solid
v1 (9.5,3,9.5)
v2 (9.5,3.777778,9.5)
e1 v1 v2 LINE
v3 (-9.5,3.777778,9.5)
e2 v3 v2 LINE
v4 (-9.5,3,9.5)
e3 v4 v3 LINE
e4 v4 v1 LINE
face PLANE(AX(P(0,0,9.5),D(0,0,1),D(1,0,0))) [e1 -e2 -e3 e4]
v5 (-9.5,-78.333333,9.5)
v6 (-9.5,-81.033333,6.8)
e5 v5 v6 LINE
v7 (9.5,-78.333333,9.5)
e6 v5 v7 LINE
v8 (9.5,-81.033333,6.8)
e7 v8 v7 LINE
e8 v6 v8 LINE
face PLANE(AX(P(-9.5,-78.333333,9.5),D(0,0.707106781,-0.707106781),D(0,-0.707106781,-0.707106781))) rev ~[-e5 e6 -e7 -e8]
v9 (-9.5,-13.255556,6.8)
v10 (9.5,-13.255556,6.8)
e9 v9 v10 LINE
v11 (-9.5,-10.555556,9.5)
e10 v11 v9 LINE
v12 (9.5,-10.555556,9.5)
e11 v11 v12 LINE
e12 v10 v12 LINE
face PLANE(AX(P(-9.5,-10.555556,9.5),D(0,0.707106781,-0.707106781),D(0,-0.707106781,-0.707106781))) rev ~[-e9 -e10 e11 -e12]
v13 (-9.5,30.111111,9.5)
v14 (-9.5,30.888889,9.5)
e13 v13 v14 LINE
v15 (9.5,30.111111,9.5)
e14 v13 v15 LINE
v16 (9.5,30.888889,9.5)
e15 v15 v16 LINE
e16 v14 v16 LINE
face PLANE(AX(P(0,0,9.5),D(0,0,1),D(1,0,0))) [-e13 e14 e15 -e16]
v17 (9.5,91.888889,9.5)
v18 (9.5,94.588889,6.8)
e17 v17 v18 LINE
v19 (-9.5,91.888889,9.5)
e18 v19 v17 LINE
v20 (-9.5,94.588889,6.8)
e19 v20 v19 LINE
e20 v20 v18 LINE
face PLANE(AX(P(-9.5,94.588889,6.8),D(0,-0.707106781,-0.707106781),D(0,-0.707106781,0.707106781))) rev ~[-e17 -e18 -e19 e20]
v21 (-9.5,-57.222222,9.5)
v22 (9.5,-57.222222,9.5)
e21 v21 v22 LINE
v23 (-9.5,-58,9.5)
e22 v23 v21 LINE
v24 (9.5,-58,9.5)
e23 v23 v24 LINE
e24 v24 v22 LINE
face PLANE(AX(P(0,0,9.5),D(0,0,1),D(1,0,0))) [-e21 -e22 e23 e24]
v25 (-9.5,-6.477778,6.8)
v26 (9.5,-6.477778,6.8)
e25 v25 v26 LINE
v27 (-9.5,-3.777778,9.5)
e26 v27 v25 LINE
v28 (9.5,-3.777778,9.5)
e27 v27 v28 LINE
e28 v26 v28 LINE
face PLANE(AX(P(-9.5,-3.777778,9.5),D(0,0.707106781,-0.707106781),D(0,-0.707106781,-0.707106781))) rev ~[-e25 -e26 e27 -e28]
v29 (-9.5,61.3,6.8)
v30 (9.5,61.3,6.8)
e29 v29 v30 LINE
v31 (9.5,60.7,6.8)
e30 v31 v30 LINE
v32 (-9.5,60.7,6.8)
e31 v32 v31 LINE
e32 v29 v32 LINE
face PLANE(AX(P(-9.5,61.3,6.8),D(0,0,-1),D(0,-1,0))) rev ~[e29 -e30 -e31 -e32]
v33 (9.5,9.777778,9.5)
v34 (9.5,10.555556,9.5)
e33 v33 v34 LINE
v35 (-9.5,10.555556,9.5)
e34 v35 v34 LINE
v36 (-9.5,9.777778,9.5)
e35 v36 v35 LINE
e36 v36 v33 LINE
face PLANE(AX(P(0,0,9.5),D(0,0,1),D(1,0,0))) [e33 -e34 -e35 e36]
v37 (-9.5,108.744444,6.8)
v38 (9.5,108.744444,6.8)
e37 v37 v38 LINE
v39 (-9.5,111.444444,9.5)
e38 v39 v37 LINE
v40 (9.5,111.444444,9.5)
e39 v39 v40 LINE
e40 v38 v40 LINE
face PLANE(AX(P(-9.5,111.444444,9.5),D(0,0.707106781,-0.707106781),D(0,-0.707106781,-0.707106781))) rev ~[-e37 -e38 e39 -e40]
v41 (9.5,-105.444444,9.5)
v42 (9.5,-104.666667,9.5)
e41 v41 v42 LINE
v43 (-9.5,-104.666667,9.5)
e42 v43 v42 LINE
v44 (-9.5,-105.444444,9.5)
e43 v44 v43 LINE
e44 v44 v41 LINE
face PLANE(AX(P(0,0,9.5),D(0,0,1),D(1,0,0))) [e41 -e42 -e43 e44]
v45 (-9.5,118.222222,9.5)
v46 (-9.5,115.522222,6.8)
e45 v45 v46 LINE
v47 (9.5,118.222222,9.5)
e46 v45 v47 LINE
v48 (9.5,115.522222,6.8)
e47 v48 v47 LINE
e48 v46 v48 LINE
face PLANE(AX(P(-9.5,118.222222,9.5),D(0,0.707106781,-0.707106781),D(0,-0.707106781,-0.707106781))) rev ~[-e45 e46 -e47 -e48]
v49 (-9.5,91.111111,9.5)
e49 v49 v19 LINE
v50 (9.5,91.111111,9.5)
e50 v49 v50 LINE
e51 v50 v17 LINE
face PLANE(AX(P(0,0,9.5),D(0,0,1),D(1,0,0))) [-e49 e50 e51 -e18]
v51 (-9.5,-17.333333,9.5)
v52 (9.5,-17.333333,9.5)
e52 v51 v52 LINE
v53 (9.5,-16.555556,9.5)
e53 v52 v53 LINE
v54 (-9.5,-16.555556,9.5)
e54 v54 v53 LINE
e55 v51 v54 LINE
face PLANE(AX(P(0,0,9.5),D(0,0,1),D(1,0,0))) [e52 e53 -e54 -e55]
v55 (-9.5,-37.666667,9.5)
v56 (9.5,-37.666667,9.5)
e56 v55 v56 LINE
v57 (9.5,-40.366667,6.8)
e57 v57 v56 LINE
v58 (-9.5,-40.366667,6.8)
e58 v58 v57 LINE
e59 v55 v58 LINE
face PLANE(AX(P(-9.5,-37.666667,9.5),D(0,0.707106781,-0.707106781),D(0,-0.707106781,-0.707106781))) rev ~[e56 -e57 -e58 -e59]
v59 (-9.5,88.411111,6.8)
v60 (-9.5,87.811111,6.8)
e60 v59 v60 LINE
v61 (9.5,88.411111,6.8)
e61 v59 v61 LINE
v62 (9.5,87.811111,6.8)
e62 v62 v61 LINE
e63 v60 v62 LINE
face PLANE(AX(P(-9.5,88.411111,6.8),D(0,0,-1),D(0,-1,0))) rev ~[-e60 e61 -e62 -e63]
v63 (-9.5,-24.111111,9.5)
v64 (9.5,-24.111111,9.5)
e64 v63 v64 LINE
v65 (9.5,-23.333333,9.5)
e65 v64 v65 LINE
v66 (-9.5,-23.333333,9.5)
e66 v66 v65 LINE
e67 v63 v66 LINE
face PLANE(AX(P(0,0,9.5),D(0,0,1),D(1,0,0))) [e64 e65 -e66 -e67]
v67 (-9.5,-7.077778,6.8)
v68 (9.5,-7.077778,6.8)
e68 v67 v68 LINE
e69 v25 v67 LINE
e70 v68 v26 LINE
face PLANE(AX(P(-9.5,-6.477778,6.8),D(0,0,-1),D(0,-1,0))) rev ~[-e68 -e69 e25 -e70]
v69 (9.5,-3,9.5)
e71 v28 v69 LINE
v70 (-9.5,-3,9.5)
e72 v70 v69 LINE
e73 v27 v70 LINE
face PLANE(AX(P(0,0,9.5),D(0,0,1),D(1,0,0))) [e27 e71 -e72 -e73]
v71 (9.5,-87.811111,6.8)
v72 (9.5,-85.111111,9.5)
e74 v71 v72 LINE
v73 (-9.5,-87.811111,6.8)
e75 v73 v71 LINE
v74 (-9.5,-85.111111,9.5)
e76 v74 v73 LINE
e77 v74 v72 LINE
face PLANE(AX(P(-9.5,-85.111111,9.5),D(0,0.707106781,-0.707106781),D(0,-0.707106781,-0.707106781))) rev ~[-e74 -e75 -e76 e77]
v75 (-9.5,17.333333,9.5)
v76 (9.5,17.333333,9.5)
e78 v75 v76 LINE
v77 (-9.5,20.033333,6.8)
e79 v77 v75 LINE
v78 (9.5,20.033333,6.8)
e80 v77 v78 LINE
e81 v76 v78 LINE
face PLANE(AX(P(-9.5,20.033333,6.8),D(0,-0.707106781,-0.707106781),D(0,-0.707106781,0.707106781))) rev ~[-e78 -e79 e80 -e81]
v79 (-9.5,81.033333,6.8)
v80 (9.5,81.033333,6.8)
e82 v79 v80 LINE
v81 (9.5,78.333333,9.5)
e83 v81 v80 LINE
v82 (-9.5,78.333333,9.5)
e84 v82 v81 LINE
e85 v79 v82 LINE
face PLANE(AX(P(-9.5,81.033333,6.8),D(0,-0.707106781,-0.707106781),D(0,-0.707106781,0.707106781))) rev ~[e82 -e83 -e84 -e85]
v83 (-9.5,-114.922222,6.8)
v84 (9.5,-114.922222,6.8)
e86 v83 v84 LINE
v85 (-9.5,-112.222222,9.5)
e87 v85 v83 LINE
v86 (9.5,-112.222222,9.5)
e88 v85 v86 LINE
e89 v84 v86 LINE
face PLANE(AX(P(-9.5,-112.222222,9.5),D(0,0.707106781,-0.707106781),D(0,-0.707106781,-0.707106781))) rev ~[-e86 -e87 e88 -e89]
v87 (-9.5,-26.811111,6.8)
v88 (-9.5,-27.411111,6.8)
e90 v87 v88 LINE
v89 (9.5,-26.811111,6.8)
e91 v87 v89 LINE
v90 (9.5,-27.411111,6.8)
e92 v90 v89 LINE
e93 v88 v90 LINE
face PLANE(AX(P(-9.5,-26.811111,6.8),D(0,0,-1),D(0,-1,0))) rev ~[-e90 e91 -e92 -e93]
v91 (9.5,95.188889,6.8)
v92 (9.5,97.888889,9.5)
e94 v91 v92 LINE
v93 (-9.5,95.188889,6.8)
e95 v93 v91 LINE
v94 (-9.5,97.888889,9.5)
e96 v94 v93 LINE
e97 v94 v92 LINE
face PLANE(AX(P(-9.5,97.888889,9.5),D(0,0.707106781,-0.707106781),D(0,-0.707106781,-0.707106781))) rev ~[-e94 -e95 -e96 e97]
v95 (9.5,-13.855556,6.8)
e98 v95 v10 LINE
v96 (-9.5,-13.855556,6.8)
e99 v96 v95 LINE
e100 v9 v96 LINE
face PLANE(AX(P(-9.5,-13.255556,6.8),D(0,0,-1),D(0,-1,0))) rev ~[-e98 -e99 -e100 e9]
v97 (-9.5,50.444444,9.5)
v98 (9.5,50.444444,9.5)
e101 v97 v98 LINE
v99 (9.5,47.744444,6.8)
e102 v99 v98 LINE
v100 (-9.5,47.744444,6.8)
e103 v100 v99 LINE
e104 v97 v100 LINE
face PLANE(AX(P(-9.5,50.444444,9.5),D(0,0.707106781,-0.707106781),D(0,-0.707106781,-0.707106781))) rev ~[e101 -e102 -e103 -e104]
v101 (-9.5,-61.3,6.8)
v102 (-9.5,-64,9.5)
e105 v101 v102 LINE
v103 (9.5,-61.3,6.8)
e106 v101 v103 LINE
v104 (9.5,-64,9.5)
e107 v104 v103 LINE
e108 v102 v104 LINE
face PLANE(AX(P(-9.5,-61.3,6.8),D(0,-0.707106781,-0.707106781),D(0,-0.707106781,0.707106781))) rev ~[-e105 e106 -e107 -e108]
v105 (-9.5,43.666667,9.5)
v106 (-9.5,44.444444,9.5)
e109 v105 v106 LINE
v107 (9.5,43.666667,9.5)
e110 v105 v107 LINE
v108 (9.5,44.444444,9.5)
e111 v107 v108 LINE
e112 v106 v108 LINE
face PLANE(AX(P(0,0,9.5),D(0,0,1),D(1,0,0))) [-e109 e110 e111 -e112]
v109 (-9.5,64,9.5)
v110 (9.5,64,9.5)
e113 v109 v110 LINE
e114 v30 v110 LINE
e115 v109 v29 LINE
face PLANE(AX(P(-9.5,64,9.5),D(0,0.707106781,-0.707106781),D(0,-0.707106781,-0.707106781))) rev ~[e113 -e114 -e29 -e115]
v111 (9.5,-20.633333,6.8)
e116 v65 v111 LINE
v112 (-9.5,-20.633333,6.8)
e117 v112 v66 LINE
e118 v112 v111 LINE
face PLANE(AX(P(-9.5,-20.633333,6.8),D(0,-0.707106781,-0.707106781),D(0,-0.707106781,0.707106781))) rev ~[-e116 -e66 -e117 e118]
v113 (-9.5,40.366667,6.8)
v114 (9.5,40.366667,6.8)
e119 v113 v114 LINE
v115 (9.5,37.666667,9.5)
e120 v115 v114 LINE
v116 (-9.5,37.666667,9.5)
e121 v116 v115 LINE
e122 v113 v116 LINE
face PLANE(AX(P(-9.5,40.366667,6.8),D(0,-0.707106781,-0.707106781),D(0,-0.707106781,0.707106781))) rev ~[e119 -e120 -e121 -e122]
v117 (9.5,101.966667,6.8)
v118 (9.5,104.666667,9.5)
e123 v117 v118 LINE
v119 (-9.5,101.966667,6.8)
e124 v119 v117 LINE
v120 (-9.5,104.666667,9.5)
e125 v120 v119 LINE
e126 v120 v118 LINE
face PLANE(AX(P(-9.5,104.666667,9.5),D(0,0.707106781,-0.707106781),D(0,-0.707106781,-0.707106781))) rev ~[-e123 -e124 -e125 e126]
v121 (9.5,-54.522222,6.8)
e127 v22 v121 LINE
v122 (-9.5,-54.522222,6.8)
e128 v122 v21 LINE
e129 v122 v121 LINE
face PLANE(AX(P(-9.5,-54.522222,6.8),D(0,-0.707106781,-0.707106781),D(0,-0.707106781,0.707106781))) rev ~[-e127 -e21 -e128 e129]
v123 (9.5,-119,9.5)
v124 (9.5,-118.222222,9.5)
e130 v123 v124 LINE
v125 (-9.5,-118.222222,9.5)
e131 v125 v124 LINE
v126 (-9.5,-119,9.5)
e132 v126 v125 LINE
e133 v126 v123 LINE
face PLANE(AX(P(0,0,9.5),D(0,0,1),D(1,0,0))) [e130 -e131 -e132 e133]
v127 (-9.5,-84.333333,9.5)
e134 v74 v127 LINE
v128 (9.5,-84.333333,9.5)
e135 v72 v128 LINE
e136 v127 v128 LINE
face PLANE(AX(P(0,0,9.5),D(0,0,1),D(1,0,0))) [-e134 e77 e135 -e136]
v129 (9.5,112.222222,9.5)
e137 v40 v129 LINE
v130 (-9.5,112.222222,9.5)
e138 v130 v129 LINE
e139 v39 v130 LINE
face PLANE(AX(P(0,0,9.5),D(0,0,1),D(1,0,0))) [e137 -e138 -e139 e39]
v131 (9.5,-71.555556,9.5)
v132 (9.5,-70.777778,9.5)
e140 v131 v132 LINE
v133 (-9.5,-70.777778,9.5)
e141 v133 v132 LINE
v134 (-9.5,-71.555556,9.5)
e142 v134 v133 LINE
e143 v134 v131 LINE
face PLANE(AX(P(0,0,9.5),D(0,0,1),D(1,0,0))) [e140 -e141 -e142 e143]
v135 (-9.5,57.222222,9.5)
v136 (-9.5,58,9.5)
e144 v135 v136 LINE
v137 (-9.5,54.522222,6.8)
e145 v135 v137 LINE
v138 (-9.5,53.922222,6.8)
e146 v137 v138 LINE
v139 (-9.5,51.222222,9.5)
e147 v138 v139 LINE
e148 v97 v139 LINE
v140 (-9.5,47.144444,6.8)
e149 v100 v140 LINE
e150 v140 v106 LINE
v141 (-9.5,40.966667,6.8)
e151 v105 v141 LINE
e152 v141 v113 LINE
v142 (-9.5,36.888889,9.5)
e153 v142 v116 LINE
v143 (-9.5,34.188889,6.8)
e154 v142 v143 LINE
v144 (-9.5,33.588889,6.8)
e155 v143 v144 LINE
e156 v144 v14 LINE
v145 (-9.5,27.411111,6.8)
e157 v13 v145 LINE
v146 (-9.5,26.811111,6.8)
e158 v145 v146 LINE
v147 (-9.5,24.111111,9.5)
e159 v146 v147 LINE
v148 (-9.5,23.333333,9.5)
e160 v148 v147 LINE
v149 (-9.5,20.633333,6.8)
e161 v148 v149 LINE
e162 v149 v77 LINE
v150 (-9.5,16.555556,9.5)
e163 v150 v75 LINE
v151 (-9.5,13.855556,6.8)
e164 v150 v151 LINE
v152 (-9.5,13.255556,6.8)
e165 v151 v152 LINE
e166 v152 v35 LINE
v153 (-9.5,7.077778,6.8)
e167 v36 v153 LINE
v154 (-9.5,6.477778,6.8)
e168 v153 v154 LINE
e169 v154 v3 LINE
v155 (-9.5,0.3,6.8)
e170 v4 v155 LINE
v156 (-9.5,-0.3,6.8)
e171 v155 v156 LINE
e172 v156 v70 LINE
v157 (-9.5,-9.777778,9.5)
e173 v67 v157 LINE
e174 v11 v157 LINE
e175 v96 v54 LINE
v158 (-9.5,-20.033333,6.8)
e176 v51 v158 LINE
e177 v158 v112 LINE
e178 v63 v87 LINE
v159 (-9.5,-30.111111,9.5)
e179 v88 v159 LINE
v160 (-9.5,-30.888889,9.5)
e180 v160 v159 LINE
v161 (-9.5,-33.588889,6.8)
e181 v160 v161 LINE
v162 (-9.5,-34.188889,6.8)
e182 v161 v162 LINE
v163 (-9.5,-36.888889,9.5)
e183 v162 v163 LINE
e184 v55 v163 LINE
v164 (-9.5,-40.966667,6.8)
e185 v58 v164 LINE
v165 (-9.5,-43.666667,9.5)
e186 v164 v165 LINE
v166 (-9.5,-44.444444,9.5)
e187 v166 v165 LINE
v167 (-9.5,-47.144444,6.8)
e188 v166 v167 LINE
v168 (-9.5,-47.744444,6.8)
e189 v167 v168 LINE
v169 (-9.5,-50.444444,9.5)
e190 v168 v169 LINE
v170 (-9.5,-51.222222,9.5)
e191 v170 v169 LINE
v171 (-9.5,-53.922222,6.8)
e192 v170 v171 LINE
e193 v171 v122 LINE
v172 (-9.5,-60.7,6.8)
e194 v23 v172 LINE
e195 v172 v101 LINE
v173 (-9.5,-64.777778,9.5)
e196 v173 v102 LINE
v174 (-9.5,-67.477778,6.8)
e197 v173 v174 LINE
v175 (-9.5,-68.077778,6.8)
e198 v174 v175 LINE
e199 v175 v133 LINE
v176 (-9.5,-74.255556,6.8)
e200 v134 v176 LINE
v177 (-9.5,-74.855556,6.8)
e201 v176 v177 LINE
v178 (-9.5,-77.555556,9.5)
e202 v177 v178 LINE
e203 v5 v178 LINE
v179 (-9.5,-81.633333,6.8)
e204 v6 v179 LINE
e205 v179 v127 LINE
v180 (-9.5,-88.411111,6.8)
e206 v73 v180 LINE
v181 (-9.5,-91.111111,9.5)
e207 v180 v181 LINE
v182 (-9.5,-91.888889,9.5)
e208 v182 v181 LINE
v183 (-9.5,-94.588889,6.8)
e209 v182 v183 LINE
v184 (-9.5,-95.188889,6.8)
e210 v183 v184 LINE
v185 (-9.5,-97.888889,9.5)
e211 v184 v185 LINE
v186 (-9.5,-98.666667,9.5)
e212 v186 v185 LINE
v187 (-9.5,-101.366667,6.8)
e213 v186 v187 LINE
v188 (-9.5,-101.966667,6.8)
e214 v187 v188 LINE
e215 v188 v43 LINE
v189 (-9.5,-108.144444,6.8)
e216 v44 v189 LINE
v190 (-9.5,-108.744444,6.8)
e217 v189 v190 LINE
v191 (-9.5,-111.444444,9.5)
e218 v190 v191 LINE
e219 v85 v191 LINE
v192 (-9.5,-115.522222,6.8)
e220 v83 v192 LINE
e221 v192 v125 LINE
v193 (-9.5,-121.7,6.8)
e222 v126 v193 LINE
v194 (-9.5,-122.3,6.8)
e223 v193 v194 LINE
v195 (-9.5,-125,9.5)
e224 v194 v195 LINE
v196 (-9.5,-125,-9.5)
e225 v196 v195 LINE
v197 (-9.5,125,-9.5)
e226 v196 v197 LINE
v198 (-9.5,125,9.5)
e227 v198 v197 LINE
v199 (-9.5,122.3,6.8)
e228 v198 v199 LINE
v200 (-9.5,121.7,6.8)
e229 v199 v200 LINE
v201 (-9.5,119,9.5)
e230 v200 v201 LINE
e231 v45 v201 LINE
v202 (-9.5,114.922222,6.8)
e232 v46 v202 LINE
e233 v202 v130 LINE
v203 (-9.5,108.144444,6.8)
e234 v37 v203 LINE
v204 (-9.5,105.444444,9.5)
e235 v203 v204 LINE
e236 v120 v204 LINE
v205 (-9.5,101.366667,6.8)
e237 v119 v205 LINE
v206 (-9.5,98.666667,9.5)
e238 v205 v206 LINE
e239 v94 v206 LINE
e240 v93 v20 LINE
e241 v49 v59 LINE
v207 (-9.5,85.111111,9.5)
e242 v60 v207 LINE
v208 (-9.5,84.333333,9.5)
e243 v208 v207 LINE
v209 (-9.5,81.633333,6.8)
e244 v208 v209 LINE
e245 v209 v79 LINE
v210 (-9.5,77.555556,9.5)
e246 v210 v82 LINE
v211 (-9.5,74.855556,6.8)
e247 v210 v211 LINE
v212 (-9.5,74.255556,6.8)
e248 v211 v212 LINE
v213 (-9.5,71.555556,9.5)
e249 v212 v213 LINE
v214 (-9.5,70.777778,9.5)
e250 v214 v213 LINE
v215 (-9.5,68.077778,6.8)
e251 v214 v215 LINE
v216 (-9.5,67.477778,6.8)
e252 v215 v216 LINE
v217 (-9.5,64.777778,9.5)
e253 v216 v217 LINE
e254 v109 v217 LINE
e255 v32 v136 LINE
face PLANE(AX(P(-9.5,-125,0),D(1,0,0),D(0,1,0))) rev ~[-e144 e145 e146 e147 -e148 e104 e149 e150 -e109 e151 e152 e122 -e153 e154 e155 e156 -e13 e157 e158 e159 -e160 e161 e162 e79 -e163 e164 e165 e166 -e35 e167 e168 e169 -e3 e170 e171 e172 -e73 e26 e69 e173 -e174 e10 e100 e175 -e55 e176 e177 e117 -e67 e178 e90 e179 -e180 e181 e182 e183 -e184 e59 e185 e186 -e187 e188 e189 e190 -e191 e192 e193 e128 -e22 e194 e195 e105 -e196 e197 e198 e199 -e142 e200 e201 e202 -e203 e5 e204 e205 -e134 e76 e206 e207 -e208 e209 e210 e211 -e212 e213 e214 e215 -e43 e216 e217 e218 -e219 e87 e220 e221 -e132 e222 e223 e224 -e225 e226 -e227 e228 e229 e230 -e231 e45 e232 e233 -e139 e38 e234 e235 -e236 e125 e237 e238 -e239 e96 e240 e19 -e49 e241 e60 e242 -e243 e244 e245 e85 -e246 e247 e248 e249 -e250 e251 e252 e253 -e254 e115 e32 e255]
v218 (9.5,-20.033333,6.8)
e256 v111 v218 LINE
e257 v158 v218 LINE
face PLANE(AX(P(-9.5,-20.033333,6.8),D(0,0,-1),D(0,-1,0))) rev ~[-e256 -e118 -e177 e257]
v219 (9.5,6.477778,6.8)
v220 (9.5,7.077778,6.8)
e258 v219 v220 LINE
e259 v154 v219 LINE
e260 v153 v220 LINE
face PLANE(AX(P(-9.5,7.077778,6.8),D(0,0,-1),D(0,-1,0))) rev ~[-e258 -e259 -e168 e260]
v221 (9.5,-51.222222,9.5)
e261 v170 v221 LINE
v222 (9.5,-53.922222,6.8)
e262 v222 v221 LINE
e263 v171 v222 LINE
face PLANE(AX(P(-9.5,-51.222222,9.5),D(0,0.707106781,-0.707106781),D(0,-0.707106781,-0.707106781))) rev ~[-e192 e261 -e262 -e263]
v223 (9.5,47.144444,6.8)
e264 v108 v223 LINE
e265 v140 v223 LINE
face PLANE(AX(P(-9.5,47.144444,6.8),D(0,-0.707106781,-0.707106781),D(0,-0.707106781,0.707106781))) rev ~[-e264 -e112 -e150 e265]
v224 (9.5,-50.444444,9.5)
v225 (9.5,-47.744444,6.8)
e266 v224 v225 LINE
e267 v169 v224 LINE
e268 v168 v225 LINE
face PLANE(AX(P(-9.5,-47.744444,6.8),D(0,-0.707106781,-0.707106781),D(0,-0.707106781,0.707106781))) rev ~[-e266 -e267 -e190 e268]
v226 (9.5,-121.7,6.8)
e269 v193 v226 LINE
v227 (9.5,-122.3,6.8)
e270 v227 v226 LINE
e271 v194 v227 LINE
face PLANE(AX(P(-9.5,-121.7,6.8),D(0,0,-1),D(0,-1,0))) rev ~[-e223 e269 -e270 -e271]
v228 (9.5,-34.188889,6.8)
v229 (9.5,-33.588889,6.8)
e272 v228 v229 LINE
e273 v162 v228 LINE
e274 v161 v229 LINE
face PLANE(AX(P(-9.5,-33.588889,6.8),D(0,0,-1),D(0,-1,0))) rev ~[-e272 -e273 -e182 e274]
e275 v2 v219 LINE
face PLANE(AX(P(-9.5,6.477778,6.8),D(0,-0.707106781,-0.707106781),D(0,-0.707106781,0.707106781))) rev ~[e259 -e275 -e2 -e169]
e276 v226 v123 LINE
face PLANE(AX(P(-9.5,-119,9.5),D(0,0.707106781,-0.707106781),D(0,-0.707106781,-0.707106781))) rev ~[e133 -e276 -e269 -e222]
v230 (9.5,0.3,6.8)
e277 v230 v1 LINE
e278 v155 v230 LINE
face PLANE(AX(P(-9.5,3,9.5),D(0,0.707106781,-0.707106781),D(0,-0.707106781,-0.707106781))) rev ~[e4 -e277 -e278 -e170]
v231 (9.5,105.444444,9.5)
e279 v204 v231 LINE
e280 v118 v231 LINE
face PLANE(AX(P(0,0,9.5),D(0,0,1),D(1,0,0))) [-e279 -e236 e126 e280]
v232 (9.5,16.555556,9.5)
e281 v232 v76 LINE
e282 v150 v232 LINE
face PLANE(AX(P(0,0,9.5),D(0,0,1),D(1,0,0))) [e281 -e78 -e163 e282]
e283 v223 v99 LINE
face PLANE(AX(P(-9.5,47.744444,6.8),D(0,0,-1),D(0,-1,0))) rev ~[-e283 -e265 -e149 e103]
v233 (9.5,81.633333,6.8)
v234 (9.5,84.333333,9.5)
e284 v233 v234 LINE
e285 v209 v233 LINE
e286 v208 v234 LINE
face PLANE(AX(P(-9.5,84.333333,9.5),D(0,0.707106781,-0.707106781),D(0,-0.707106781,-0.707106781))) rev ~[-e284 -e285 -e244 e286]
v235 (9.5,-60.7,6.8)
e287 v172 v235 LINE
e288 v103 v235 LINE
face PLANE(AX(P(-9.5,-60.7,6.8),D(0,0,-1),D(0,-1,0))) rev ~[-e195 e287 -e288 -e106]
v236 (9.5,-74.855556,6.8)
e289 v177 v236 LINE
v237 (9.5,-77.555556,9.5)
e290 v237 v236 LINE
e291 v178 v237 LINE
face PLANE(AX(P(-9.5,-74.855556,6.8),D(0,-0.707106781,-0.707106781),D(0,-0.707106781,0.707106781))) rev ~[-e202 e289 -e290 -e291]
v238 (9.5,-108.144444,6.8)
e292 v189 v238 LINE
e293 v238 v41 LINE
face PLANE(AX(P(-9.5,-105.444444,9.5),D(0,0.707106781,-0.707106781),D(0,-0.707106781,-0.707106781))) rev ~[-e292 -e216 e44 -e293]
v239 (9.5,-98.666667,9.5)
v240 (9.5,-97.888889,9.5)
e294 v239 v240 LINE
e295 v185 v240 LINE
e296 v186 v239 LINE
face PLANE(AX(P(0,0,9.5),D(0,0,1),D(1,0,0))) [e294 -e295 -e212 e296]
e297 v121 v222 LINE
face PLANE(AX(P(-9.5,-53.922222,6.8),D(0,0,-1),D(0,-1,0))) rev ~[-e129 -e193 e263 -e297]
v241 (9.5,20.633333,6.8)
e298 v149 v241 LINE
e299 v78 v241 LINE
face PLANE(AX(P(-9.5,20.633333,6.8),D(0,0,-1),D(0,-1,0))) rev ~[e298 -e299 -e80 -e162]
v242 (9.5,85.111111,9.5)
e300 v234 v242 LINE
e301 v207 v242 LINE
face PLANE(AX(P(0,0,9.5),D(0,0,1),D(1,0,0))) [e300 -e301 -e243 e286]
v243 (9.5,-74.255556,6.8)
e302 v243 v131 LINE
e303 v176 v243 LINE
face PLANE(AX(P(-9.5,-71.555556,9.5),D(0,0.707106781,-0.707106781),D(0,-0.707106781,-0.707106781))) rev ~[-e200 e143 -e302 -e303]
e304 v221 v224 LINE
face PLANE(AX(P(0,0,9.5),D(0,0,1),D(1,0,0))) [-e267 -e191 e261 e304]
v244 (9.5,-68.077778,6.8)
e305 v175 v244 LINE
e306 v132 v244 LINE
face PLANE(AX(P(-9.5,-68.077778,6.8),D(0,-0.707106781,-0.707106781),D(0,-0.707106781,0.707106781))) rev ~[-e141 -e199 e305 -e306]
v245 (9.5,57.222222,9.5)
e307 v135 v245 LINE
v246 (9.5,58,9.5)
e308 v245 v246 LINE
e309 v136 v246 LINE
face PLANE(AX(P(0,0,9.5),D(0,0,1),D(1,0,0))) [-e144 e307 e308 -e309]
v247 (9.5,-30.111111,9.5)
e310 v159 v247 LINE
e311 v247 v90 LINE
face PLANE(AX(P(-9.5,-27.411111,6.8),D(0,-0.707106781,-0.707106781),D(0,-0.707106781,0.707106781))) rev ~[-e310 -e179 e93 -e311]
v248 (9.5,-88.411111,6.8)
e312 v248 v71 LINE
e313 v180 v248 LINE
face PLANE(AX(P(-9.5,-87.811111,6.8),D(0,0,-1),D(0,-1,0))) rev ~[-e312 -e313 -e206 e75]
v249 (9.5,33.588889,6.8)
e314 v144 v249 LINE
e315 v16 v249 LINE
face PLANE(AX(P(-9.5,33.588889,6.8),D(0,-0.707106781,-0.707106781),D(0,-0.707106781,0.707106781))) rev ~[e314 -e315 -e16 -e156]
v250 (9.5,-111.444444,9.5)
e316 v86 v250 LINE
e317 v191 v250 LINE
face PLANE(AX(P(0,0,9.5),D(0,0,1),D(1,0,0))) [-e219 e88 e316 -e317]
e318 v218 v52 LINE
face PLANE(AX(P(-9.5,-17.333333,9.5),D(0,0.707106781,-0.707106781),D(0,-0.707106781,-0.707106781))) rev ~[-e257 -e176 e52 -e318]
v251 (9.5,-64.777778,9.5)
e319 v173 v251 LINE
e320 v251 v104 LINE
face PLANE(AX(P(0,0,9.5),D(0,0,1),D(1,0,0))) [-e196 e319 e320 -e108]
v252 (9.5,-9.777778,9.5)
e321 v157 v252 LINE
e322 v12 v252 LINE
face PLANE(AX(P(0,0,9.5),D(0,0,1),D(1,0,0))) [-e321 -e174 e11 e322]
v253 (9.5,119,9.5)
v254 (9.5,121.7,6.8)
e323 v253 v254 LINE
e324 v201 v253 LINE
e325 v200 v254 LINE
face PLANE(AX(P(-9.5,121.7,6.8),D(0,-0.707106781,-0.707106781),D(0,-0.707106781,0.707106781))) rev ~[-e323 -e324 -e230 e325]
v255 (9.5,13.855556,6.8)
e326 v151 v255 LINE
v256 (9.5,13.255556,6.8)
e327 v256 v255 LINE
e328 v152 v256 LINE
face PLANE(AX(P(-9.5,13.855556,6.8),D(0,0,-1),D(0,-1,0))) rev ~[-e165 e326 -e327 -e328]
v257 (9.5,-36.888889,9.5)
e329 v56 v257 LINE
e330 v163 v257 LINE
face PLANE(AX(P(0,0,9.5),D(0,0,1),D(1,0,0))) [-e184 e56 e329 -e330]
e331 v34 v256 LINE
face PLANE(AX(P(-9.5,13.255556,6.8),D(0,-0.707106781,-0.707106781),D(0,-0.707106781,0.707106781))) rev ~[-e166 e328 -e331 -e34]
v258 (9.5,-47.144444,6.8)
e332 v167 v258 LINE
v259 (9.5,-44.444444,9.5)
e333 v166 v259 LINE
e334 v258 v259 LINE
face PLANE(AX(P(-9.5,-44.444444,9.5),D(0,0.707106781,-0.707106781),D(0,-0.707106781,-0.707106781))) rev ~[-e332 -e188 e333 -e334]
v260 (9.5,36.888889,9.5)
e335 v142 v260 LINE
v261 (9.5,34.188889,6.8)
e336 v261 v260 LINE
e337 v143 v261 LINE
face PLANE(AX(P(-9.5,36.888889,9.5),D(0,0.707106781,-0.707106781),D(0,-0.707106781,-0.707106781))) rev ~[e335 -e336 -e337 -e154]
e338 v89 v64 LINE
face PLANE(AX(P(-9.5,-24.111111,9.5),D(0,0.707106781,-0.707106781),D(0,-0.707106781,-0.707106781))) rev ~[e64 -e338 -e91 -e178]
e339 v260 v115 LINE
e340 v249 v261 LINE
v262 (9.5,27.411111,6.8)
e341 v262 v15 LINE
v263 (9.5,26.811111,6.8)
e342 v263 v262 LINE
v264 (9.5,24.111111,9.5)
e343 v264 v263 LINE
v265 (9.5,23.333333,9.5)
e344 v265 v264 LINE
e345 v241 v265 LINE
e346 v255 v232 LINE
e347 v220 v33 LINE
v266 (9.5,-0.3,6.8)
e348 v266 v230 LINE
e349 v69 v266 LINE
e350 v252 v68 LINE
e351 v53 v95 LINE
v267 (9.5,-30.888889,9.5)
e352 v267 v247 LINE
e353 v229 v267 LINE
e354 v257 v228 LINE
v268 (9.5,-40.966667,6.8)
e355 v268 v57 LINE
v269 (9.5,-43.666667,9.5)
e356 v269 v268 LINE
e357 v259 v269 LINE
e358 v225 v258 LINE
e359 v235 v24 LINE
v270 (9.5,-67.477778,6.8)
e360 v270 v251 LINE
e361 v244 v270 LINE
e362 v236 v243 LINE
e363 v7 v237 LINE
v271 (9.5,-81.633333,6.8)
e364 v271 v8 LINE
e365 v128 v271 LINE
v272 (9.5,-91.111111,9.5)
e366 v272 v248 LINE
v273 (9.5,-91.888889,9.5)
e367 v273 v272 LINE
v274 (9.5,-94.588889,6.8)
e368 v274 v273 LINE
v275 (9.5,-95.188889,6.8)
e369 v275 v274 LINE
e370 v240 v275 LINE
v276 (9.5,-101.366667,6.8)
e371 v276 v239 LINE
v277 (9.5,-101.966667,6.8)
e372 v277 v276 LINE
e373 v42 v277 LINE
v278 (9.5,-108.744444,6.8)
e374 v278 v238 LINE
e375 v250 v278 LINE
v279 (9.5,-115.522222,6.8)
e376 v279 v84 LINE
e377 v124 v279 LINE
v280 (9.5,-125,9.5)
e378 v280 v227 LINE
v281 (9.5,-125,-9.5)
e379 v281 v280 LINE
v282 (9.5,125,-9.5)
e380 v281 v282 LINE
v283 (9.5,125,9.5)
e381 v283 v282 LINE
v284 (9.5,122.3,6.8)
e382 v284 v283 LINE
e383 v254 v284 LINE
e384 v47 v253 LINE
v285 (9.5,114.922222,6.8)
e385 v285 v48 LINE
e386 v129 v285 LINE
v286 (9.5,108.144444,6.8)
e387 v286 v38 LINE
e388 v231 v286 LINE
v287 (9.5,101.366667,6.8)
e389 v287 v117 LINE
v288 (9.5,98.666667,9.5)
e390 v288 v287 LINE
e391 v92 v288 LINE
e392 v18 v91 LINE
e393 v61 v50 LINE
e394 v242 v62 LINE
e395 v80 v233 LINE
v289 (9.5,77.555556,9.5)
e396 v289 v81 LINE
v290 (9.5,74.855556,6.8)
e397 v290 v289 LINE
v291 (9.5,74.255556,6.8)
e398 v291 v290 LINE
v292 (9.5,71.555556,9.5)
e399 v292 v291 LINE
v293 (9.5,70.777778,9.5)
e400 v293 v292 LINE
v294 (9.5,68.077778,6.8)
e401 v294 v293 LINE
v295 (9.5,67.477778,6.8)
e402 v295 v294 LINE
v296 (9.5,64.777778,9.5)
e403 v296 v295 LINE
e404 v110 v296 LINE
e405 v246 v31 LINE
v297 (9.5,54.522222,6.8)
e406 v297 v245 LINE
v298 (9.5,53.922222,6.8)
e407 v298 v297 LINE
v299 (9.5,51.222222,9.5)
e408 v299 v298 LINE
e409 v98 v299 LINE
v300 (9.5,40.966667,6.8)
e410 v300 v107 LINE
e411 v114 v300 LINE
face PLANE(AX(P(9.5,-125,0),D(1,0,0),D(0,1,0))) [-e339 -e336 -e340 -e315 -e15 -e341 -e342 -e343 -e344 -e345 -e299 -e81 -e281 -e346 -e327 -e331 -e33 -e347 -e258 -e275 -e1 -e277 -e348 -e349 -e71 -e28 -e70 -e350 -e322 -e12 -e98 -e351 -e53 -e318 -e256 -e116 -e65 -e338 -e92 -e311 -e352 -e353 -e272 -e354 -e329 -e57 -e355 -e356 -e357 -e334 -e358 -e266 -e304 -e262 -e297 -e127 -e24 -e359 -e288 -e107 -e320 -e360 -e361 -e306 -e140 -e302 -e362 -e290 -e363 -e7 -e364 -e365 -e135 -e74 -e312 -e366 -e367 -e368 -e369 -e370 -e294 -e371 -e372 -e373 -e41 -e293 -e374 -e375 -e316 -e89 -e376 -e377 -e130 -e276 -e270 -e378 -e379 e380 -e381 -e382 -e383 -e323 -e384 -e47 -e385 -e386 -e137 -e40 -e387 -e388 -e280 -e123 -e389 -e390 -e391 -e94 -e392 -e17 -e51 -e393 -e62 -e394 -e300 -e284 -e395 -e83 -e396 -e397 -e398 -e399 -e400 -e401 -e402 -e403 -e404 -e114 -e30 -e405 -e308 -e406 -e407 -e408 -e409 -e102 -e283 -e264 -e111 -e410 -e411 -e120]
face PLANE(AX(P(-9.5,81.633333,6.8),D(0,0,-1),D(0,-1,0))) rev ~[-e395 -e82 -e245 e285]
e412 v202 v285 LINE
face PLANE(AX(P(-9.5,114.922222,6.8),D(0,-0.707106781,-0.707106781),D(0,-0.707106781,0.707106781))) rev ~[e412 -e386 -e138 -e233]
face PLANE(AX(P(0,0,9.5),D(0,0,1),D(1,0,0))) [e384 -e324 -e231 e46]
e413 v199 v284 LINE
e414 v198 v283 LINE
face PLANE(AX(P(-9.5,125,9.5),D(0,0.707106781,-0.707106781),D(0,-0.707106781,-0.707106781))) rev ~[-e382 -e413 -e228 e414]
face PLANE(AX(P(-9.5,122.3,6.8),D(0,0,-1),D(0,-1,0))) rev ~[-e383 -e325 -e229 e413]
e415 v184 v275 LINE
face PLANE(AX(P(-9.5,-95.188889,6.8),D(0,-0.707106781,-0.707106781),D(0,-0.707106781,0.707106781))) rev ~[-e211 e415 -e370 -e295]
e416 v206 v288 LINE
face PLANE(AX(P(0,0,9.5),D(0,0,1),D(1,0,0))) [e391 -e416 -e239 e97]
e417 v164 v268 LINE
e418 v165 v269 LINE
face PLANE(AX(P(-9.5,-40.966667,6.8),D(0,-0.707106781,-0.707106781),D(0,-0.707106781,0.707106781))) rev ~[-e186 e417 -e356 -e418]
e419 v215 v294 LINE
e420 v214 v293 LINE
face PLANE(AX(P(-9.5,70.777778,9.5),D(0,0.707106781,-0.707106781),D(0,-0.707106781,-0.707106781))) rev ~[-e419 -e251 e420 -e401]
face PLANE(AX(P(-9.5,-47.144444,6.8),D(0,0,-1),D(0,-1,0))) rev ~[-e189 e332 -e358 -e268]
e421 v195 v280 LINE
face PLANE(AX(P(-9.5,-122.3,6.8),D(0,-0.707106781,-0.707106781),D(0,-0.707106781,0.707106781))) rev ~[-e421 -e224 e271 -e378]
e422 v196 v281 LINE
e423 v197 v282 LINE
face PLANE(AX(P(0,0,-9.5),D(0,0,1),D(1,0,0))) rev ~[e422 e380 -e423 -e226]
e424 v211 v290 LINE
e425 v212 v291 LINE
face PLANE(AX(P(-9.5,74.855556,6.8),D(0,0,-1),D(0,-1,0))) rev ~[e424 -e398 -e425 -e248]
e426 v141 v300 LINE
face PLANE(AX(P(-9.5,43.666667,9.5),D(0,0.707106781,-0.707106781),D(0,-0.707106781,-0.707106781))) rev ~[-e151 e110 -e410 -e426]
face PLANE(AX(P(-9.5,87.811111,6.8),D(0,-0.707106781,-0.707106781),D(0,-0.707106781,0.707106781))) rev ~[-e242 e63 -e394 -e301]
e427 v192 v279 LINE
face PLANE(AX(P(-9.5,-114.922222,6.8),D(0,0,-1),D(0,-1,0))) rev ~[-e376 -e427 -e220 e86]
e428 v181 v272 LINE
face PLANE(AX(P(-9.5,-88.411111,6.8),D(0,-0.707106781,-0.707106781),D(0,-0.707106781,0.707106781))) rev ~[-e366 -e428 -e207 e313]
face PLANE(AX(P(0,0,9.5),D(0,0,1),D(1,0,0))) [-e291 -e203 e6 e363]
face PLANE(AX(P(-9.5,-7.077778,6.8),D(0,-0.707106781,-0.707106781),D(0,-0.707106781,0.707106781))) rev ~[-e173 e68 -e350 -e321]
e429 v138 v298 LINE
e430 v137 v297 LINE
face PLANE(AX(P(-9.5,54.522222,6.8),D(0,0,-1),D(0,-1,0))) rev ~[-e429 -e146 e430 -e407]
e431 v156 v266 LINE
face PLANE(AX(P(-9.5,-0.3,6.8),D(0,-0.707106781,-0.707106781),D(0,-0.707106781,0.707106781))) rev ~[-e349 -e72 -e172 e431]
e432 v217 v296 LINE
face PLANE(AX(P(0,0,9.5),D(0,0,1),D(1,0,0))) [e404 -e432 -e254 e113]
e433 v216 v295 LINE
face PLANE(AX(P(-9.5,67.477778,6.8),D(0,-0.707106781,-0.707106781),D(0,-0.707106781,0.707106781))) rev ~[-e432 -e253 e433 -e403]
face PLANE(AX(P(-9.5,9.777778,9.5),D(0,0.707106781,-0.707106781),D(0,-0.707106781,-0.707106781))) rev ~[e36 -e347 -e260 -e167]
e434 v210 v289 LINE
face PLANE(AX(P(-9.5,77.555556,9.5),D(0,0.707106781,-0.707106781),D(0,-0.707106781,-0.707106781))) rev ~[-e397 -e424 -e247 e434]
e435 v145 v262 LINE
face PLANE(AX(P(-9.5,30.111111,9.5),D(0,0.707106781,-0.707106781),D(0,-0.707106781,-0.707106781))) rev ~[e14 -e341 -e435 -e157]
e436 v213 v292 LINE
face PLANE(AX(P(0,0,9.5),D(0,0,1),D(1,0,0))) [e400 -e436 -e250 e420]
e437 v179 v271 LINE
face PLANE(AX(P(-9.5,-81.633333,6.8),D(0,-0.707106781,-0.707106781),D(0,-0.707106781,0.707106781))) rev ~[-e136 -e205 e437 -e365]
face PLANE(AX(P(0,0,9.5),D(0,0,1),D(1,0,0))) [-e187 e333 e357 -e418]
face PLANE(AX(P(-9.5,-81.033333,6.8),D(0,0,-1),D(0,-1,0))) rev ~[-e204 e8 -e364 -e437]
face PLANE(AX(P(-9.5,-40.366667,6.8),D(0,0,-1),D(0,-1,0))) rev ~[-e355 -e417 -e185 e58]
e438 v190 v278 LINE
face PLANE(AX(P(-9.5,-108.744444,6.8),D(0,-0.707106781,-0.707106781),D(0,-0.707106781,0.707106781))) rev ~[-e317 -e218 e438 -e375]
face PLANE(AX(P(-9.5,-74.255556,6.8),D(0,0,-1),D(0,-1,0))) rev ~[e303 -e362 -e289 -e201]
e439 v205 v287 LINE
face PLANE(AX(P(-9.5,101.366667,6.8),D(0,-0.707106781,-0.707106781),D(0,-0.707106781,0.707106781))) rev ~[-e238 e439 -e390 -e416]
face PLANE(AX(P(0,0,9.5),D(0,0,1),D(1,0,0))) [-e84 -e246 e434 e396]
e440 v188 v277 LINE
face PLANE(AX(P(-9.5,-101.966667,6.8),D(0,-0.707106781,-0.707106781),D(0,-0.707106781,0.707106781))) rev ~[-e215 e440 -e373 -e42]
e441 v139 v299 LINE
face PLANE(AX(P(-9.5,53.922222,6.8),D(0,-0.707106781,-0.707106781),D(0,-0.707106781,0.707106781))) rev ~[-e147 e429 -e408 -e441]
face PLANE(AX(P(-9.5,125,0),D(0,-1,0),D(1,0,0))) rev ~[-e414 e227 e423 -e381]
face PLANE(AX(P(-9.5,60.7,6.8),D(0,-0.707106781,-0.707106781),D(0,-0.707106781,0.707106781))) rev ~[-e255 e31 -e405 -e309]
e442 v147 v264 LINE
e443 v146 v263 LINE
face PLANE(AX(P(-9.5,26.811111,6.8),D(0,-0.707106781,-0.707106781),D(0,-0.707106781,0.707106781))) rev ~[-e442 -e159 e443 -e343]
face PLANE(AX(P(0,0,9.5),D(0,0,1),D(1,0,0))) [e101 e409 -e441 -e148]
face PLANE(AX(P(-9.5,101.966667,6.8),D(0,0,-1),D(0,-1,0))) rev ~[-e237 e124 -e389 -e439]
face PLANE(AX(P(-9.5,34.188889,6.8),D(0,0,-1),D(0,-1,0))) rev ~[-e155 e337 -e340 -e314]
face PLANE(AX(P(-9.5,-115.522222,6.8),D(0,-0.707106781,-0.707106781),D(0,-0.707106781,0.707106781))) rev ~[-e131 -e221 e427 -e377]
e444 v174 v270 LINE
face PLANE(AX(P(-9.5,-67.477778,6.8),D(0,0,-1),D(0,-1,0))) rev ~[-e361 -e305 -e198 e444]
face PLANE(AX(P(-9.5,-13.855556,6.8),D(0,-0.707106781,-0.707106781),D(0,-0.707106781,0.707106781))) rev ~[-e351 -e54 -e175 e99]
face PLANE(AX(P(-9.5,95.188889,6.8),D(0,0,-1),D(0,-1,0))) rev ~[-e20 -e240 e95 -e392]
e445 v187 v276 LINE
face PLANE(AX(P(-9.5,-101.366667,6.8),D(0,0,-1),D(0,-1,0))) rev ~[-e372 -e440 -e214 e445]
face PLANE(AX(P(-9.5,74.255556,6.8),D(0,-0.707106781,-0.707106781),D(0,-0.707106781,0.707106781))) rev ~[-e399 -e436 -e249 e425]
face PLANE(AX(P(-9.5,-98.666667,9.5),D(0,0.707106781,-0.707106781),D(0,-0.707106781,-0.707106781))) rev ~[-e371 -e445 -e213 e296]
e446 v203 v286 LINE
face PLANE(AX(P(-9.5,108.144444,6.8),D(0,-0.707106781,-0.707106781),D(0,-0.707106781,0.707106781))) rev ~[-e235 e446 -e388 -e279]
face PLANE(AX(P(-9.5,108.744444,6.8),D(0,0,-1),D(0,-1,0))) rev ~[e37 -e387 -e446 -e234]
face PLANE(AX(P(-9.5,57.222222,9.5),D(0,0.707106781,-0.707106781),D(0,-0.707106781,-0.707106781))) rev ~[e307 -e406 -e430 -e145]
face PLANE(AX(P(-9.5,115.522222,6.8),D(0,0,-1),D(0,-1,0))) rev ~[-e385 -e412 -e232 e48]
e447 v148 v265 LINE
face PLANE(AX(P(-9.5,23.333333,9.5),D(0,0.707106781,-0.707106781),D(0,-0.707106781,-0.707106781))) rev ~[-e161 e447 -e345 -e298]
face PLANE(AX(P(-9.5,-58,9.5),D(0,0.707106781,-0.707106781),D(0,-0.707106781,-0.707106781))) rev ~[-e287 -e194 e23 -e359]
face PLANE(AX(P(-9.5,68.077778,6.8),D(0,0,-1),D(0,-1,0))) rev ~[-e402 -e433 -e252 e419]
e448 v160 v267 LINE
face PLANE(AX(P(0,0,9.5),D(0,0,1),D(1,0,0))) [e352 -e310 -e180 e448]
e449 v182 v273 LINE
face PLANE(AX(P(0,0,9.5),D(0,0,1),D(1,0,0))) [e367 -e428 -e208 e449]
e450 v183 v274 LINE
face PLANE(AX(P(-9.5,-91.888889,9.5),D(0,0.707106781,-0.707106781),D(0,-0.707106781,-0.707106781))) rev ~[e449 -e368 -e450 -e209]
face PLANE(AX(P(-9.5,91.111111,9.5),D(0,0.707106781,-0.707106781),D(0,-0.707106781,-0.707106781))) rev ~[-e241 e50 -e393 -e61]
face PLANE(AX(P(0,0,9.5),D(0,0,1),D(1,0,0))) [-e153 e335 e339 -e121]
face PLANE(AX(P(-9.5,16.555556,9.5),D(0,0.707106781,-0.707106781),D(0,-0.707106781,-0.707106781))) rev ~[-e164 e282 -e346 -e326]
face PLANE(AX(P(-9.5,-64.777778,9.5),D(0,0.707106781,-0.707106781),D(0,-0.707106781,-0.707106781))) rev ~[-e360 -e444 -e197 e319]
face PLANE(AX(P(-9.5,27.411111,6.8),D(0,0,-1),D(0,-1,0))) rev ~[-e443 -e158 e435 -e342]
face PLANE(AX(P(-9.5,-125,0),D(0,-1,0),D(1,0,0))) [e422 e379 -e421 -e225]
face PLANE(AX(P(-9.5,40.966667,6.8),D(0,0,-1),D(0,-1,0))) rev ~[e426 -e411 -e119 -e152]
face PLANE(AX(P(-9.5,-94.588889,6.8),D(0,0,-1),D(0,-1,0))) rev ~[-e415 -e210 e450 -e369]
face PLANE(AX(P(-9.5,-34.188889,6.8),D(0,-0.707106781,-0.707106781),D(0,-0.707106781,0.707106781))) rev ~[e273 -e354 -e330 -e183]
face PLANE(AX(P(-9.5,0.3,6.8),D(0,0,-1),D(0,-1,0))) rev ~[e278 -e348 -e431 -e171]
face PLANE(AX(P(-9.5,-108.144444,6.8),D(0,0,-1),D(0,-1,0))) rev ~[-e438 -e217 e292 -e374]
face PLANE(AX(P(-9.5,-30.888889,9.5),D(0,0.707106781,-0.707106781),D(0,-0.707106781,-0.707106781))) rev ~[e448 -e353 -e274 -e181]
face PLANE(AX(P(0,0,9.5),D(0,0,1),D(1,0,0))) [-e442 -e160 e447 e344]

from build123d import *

# Parameters (mm, degrees)
SKETCH1_W           = 19
SKETCH1_H           = 250
BOSS_EXTRUDE1_DEPTH = 9.5
CUT_EXTRUDE1_DEPTH  = 29


with BuildPart() as part:
    # Sketch1 → Boss-Extrude1 (new body, symmetric)
    with BuildSketch(Plane.XY):
        Rectangle(SKETCH1_W, SKETCH1_H)
    extrude(amount=BOSS_EXTRUDE1_DEPTH, both=True)

    # Sketch2 → Cut-Extrude1 (cut)
    with BuildSketch(Plane.ZY.offset(9.5)):
        Polygon((9.5, 125), (6.8, 122.3), (6.8, 121.7), (9.5, 119), (10.5, 119), (10.5, 125), align=None)
        Polygon((9.5, 118.222222222), (6.8, 115.522222222), (6.8, 114.922222222), (9.5, 112.222222222), (10.5, 112.222222222), (10.5, 118.222222222), align=None)
        Polygon((9.5, 111.444444444), (6.8, 108.744444444), (6.8, 108.144444444), (9.5, 105.444444444), (10.5, 105.444444444), (10.5, 111.444444444), align=None)
        Polygon((9.5, 104.666666667), (6.8, 101.966666667), (6.8, 101.366666667), (9.5, 98.666666667), (10.5, 98.666666667), (10.5, 104.666666667), align=None)
        Polygon((9.5, 97.888888889), (6.8, 95.188888889), (6.8, 94.588888889), (9.5, 91.888888889), (10.5, 91.888888889), (10.5, 97.888888889), align=None)
        Polygon((9.5, 91.111111111), (6.8, 88.411111111), (6.8, 87.811111111), (9.5, 85.111111111), (10.5, 85.111111111), (10.5, 91.111111111), align=None)
        Polygon((9.5, 84.333333333), (6.8, 81.633333333), (6.8, 81.033333333), (9.5, 78.333333333), (10.5, 78.333333333), (10.5, 84.333333333), align=None)
        Polygon((9.5, 77.555555556), (6.8, 74.855555556), (6.8, 74.255555556), (9.5, 71.555555556), (10.5, 71.555555556), (10.5, 77.555555556), align=None)
        Polygon((9.5, 70.777777778), (6.8, 68.077777778), (6.8, 67.477777778), (9.5, 64.777777778), (10.5, 64.777777778), (10.5, 70.777777778), align=None)
        Polygon((9.5, 64), (6.8, 61.3), (6.8, 60.7), (9.5, 58), (10.5, 58), (10.5, 64), align=None)
        Polygon((9.5, 57.222222222), (6.8, 54.522222222), (6.8, 53.922222222), (9.5, 51.222222222), (10.5, 51.222222222), (10.5, 57.222222222), align=None)
        Polygon((9.5, 50.444444444), (6.8, 47.744444444), (6.8, 47.144444444), (9.5, 44.444444444), (10.5, 44.444444444), (10.5, 50.444444444), align=None)
        Polygon((9.5, 43.666666667), (6.8, 40.966666667), (6.8, 40.366666667), (9.5, 37.666666667), (10.5, 37.666666667), (10.5, 43.666666667), align=None)
        Polygon((9.5, 36.888888889), (6.8, 34.188888889), (6.8, 33.588888889), (9.5, 30.888888889), (10.5, 30.888888889), (10.5, 36.888888889), align=None)
        Polygon((9.5, 30.111111111), (6.8, 27.411111111), (6.8, 26.811111111), (9.5, 24.111111111), (10.5, 24.111111111), (10.5, 30.111111111), align=None)
        Polygon((9.5, 23.333333333), (6.8, 20.633333333), (6.8, 20.033333333), (9.5, 17.333333333), (10.5, 17.333333333), (10.5, 23.333333333), align=None)
        Polygon((9.5, 16.555555556), (6.8, 13.855555556), (6.8, 13.255555556), (9.5, 10.555555556), (10.5, 10.555555556), (10.5, 16.555555556), align=None)
        Polygon((9.5, 9.777777778), (6.8, 7.077777778), (6.8, 6.477777778), (9.5, 3.777777778), (10.5, 3.777777778), (10.5, 9.777777778), align=None)
        Polygon((9.5, 3), (6.8, 0.3), (6.8, -0.3), (9.5, -3), (10.5, -3), (10.5, 3), align=None)
        Polygon((9.5, -3.777777778), (6.8, -6.477777778), (6.8, -7.077777778), (9.5, -9.777777778), (10.5, -9.777777778), (10.5, -3.777777778), align=None)
        Polygon((9.5, -10.555555556), (6.8, -13.255555556), (6.8, -13.855555556), (9.5, -16.555555556), (10.5, -16.555555556), (10.5, -10.555555556), align=None)
        Polygon((9.5, -17.333333333), (6.8, -20.033333333), (6.8, -20.633333333), (9.5, -23.333333333), (10.5, -23.333333333), (10.5, -17.333333333), align=None)
        Polygon((9.5, -24.111111111), (6.8, -26.811111111), (6.8, -27.411111111), (9.5, -30.111111111), (10.5, -30.111111111), (10.5, -24.111111111), align=None)
        Polygon((9.5, -30.888888889), (6.8, -33.588888889), (6.8, -34.188888889), (9.5, -36.888888889), (10.5, -36.888888889), (10.5, -30.888888889), align=None)
        Polygon((9.5, -37.666666667), (6.8, -40.366666667), (6.8, -40.966666667), (9.5, -43.666666667), (10.5, -43.666666667), (10.5, -37.666666667), align=None)
        Polygon((9.5, -44.444444444), (6.8, -47.144444444), (6.8, -47.744444444), (9.5, -50.444444444), (10.5, -50.444444444), (10.5, -44.444444444), align=None)
        Polygon((9.5, -51.222222222), (6.8, -53.922222222), (6.8, -54.522222222), (9.5, -57.222222222), (10.5, -57.222222222), (10.5, -51.222222222), align=None)
        Polygon((9.5, -58), (6.8, -60.7), (6.8, -61.3), (9.5, -64), (10.5, -64), (10.5, -58), align=None)
        Polygon((9.5, -64.777777778), (6.8, -67.477777778), (6.8, -68.077777778), (9.5, -70.777777778), (10.5, -70.777777778), (10.5, -64.777777778), align=None)
        Polygon((9.5, -71.555555556), (6.8, -74.255555556), (6.8, -74.855555556), (9.5, -77.555555556), (10.5, -77.555555556), (10.5, -71.555555556), align=None)
        Polygon((9.5, -78.333333333), (6.8, -81.033333333), (6.8, -81.633333333), (9.5, -84.333333333), (10.5, -84.333333333), (10.5, -78.333333333), align=None)
        Polygon((9.5, -85.111111111), (6.8, -87.811111111), (6.8, -88.411111111), (9.5, -91.111111111), (10.5, -91.111111111), (10.5, -85.111111111), align=None)
        Polygon((9.5, -91.888888889), (6.8, -94.588888889), (6.8, -95.188888889), (9.5, -97.888888889), (10.5, -97.888888889), (10.5, -91.888888889), align=None)
        Polygon((9.5, -98.666666667), (6.8, -101.366666667), (6.8, -101.966666667), (9.5, -104.666666667), (10.5, -104.666666667), (10.5, -98.666666667), align=None)
        Polygon((9.5, -105.444444444), (6.8, -108.144444444), (6.8, -108.744444444), (9.5, -111.444444444), (10.5, -111.444444444), (10.5, -105.444444444), align=None)
        Polygon((9.5, -112.222222222), (6.8, -114.922222222), (6.8, -115.522222222), (9.5, -118.222222222), (10.5, -118.222222222), (10.5, -112.222222222), align=None)
        Polygon((9.5, -119), (6.8, -121.7), (6.8, -122.3), (9.5, -125), (10.5, -125), (10.5, -119), align=None)
    extrude(amount=-CUT_EXTRUDE1_DEPTH, mode=Mode.SUBTRACT)


solid = part.part
